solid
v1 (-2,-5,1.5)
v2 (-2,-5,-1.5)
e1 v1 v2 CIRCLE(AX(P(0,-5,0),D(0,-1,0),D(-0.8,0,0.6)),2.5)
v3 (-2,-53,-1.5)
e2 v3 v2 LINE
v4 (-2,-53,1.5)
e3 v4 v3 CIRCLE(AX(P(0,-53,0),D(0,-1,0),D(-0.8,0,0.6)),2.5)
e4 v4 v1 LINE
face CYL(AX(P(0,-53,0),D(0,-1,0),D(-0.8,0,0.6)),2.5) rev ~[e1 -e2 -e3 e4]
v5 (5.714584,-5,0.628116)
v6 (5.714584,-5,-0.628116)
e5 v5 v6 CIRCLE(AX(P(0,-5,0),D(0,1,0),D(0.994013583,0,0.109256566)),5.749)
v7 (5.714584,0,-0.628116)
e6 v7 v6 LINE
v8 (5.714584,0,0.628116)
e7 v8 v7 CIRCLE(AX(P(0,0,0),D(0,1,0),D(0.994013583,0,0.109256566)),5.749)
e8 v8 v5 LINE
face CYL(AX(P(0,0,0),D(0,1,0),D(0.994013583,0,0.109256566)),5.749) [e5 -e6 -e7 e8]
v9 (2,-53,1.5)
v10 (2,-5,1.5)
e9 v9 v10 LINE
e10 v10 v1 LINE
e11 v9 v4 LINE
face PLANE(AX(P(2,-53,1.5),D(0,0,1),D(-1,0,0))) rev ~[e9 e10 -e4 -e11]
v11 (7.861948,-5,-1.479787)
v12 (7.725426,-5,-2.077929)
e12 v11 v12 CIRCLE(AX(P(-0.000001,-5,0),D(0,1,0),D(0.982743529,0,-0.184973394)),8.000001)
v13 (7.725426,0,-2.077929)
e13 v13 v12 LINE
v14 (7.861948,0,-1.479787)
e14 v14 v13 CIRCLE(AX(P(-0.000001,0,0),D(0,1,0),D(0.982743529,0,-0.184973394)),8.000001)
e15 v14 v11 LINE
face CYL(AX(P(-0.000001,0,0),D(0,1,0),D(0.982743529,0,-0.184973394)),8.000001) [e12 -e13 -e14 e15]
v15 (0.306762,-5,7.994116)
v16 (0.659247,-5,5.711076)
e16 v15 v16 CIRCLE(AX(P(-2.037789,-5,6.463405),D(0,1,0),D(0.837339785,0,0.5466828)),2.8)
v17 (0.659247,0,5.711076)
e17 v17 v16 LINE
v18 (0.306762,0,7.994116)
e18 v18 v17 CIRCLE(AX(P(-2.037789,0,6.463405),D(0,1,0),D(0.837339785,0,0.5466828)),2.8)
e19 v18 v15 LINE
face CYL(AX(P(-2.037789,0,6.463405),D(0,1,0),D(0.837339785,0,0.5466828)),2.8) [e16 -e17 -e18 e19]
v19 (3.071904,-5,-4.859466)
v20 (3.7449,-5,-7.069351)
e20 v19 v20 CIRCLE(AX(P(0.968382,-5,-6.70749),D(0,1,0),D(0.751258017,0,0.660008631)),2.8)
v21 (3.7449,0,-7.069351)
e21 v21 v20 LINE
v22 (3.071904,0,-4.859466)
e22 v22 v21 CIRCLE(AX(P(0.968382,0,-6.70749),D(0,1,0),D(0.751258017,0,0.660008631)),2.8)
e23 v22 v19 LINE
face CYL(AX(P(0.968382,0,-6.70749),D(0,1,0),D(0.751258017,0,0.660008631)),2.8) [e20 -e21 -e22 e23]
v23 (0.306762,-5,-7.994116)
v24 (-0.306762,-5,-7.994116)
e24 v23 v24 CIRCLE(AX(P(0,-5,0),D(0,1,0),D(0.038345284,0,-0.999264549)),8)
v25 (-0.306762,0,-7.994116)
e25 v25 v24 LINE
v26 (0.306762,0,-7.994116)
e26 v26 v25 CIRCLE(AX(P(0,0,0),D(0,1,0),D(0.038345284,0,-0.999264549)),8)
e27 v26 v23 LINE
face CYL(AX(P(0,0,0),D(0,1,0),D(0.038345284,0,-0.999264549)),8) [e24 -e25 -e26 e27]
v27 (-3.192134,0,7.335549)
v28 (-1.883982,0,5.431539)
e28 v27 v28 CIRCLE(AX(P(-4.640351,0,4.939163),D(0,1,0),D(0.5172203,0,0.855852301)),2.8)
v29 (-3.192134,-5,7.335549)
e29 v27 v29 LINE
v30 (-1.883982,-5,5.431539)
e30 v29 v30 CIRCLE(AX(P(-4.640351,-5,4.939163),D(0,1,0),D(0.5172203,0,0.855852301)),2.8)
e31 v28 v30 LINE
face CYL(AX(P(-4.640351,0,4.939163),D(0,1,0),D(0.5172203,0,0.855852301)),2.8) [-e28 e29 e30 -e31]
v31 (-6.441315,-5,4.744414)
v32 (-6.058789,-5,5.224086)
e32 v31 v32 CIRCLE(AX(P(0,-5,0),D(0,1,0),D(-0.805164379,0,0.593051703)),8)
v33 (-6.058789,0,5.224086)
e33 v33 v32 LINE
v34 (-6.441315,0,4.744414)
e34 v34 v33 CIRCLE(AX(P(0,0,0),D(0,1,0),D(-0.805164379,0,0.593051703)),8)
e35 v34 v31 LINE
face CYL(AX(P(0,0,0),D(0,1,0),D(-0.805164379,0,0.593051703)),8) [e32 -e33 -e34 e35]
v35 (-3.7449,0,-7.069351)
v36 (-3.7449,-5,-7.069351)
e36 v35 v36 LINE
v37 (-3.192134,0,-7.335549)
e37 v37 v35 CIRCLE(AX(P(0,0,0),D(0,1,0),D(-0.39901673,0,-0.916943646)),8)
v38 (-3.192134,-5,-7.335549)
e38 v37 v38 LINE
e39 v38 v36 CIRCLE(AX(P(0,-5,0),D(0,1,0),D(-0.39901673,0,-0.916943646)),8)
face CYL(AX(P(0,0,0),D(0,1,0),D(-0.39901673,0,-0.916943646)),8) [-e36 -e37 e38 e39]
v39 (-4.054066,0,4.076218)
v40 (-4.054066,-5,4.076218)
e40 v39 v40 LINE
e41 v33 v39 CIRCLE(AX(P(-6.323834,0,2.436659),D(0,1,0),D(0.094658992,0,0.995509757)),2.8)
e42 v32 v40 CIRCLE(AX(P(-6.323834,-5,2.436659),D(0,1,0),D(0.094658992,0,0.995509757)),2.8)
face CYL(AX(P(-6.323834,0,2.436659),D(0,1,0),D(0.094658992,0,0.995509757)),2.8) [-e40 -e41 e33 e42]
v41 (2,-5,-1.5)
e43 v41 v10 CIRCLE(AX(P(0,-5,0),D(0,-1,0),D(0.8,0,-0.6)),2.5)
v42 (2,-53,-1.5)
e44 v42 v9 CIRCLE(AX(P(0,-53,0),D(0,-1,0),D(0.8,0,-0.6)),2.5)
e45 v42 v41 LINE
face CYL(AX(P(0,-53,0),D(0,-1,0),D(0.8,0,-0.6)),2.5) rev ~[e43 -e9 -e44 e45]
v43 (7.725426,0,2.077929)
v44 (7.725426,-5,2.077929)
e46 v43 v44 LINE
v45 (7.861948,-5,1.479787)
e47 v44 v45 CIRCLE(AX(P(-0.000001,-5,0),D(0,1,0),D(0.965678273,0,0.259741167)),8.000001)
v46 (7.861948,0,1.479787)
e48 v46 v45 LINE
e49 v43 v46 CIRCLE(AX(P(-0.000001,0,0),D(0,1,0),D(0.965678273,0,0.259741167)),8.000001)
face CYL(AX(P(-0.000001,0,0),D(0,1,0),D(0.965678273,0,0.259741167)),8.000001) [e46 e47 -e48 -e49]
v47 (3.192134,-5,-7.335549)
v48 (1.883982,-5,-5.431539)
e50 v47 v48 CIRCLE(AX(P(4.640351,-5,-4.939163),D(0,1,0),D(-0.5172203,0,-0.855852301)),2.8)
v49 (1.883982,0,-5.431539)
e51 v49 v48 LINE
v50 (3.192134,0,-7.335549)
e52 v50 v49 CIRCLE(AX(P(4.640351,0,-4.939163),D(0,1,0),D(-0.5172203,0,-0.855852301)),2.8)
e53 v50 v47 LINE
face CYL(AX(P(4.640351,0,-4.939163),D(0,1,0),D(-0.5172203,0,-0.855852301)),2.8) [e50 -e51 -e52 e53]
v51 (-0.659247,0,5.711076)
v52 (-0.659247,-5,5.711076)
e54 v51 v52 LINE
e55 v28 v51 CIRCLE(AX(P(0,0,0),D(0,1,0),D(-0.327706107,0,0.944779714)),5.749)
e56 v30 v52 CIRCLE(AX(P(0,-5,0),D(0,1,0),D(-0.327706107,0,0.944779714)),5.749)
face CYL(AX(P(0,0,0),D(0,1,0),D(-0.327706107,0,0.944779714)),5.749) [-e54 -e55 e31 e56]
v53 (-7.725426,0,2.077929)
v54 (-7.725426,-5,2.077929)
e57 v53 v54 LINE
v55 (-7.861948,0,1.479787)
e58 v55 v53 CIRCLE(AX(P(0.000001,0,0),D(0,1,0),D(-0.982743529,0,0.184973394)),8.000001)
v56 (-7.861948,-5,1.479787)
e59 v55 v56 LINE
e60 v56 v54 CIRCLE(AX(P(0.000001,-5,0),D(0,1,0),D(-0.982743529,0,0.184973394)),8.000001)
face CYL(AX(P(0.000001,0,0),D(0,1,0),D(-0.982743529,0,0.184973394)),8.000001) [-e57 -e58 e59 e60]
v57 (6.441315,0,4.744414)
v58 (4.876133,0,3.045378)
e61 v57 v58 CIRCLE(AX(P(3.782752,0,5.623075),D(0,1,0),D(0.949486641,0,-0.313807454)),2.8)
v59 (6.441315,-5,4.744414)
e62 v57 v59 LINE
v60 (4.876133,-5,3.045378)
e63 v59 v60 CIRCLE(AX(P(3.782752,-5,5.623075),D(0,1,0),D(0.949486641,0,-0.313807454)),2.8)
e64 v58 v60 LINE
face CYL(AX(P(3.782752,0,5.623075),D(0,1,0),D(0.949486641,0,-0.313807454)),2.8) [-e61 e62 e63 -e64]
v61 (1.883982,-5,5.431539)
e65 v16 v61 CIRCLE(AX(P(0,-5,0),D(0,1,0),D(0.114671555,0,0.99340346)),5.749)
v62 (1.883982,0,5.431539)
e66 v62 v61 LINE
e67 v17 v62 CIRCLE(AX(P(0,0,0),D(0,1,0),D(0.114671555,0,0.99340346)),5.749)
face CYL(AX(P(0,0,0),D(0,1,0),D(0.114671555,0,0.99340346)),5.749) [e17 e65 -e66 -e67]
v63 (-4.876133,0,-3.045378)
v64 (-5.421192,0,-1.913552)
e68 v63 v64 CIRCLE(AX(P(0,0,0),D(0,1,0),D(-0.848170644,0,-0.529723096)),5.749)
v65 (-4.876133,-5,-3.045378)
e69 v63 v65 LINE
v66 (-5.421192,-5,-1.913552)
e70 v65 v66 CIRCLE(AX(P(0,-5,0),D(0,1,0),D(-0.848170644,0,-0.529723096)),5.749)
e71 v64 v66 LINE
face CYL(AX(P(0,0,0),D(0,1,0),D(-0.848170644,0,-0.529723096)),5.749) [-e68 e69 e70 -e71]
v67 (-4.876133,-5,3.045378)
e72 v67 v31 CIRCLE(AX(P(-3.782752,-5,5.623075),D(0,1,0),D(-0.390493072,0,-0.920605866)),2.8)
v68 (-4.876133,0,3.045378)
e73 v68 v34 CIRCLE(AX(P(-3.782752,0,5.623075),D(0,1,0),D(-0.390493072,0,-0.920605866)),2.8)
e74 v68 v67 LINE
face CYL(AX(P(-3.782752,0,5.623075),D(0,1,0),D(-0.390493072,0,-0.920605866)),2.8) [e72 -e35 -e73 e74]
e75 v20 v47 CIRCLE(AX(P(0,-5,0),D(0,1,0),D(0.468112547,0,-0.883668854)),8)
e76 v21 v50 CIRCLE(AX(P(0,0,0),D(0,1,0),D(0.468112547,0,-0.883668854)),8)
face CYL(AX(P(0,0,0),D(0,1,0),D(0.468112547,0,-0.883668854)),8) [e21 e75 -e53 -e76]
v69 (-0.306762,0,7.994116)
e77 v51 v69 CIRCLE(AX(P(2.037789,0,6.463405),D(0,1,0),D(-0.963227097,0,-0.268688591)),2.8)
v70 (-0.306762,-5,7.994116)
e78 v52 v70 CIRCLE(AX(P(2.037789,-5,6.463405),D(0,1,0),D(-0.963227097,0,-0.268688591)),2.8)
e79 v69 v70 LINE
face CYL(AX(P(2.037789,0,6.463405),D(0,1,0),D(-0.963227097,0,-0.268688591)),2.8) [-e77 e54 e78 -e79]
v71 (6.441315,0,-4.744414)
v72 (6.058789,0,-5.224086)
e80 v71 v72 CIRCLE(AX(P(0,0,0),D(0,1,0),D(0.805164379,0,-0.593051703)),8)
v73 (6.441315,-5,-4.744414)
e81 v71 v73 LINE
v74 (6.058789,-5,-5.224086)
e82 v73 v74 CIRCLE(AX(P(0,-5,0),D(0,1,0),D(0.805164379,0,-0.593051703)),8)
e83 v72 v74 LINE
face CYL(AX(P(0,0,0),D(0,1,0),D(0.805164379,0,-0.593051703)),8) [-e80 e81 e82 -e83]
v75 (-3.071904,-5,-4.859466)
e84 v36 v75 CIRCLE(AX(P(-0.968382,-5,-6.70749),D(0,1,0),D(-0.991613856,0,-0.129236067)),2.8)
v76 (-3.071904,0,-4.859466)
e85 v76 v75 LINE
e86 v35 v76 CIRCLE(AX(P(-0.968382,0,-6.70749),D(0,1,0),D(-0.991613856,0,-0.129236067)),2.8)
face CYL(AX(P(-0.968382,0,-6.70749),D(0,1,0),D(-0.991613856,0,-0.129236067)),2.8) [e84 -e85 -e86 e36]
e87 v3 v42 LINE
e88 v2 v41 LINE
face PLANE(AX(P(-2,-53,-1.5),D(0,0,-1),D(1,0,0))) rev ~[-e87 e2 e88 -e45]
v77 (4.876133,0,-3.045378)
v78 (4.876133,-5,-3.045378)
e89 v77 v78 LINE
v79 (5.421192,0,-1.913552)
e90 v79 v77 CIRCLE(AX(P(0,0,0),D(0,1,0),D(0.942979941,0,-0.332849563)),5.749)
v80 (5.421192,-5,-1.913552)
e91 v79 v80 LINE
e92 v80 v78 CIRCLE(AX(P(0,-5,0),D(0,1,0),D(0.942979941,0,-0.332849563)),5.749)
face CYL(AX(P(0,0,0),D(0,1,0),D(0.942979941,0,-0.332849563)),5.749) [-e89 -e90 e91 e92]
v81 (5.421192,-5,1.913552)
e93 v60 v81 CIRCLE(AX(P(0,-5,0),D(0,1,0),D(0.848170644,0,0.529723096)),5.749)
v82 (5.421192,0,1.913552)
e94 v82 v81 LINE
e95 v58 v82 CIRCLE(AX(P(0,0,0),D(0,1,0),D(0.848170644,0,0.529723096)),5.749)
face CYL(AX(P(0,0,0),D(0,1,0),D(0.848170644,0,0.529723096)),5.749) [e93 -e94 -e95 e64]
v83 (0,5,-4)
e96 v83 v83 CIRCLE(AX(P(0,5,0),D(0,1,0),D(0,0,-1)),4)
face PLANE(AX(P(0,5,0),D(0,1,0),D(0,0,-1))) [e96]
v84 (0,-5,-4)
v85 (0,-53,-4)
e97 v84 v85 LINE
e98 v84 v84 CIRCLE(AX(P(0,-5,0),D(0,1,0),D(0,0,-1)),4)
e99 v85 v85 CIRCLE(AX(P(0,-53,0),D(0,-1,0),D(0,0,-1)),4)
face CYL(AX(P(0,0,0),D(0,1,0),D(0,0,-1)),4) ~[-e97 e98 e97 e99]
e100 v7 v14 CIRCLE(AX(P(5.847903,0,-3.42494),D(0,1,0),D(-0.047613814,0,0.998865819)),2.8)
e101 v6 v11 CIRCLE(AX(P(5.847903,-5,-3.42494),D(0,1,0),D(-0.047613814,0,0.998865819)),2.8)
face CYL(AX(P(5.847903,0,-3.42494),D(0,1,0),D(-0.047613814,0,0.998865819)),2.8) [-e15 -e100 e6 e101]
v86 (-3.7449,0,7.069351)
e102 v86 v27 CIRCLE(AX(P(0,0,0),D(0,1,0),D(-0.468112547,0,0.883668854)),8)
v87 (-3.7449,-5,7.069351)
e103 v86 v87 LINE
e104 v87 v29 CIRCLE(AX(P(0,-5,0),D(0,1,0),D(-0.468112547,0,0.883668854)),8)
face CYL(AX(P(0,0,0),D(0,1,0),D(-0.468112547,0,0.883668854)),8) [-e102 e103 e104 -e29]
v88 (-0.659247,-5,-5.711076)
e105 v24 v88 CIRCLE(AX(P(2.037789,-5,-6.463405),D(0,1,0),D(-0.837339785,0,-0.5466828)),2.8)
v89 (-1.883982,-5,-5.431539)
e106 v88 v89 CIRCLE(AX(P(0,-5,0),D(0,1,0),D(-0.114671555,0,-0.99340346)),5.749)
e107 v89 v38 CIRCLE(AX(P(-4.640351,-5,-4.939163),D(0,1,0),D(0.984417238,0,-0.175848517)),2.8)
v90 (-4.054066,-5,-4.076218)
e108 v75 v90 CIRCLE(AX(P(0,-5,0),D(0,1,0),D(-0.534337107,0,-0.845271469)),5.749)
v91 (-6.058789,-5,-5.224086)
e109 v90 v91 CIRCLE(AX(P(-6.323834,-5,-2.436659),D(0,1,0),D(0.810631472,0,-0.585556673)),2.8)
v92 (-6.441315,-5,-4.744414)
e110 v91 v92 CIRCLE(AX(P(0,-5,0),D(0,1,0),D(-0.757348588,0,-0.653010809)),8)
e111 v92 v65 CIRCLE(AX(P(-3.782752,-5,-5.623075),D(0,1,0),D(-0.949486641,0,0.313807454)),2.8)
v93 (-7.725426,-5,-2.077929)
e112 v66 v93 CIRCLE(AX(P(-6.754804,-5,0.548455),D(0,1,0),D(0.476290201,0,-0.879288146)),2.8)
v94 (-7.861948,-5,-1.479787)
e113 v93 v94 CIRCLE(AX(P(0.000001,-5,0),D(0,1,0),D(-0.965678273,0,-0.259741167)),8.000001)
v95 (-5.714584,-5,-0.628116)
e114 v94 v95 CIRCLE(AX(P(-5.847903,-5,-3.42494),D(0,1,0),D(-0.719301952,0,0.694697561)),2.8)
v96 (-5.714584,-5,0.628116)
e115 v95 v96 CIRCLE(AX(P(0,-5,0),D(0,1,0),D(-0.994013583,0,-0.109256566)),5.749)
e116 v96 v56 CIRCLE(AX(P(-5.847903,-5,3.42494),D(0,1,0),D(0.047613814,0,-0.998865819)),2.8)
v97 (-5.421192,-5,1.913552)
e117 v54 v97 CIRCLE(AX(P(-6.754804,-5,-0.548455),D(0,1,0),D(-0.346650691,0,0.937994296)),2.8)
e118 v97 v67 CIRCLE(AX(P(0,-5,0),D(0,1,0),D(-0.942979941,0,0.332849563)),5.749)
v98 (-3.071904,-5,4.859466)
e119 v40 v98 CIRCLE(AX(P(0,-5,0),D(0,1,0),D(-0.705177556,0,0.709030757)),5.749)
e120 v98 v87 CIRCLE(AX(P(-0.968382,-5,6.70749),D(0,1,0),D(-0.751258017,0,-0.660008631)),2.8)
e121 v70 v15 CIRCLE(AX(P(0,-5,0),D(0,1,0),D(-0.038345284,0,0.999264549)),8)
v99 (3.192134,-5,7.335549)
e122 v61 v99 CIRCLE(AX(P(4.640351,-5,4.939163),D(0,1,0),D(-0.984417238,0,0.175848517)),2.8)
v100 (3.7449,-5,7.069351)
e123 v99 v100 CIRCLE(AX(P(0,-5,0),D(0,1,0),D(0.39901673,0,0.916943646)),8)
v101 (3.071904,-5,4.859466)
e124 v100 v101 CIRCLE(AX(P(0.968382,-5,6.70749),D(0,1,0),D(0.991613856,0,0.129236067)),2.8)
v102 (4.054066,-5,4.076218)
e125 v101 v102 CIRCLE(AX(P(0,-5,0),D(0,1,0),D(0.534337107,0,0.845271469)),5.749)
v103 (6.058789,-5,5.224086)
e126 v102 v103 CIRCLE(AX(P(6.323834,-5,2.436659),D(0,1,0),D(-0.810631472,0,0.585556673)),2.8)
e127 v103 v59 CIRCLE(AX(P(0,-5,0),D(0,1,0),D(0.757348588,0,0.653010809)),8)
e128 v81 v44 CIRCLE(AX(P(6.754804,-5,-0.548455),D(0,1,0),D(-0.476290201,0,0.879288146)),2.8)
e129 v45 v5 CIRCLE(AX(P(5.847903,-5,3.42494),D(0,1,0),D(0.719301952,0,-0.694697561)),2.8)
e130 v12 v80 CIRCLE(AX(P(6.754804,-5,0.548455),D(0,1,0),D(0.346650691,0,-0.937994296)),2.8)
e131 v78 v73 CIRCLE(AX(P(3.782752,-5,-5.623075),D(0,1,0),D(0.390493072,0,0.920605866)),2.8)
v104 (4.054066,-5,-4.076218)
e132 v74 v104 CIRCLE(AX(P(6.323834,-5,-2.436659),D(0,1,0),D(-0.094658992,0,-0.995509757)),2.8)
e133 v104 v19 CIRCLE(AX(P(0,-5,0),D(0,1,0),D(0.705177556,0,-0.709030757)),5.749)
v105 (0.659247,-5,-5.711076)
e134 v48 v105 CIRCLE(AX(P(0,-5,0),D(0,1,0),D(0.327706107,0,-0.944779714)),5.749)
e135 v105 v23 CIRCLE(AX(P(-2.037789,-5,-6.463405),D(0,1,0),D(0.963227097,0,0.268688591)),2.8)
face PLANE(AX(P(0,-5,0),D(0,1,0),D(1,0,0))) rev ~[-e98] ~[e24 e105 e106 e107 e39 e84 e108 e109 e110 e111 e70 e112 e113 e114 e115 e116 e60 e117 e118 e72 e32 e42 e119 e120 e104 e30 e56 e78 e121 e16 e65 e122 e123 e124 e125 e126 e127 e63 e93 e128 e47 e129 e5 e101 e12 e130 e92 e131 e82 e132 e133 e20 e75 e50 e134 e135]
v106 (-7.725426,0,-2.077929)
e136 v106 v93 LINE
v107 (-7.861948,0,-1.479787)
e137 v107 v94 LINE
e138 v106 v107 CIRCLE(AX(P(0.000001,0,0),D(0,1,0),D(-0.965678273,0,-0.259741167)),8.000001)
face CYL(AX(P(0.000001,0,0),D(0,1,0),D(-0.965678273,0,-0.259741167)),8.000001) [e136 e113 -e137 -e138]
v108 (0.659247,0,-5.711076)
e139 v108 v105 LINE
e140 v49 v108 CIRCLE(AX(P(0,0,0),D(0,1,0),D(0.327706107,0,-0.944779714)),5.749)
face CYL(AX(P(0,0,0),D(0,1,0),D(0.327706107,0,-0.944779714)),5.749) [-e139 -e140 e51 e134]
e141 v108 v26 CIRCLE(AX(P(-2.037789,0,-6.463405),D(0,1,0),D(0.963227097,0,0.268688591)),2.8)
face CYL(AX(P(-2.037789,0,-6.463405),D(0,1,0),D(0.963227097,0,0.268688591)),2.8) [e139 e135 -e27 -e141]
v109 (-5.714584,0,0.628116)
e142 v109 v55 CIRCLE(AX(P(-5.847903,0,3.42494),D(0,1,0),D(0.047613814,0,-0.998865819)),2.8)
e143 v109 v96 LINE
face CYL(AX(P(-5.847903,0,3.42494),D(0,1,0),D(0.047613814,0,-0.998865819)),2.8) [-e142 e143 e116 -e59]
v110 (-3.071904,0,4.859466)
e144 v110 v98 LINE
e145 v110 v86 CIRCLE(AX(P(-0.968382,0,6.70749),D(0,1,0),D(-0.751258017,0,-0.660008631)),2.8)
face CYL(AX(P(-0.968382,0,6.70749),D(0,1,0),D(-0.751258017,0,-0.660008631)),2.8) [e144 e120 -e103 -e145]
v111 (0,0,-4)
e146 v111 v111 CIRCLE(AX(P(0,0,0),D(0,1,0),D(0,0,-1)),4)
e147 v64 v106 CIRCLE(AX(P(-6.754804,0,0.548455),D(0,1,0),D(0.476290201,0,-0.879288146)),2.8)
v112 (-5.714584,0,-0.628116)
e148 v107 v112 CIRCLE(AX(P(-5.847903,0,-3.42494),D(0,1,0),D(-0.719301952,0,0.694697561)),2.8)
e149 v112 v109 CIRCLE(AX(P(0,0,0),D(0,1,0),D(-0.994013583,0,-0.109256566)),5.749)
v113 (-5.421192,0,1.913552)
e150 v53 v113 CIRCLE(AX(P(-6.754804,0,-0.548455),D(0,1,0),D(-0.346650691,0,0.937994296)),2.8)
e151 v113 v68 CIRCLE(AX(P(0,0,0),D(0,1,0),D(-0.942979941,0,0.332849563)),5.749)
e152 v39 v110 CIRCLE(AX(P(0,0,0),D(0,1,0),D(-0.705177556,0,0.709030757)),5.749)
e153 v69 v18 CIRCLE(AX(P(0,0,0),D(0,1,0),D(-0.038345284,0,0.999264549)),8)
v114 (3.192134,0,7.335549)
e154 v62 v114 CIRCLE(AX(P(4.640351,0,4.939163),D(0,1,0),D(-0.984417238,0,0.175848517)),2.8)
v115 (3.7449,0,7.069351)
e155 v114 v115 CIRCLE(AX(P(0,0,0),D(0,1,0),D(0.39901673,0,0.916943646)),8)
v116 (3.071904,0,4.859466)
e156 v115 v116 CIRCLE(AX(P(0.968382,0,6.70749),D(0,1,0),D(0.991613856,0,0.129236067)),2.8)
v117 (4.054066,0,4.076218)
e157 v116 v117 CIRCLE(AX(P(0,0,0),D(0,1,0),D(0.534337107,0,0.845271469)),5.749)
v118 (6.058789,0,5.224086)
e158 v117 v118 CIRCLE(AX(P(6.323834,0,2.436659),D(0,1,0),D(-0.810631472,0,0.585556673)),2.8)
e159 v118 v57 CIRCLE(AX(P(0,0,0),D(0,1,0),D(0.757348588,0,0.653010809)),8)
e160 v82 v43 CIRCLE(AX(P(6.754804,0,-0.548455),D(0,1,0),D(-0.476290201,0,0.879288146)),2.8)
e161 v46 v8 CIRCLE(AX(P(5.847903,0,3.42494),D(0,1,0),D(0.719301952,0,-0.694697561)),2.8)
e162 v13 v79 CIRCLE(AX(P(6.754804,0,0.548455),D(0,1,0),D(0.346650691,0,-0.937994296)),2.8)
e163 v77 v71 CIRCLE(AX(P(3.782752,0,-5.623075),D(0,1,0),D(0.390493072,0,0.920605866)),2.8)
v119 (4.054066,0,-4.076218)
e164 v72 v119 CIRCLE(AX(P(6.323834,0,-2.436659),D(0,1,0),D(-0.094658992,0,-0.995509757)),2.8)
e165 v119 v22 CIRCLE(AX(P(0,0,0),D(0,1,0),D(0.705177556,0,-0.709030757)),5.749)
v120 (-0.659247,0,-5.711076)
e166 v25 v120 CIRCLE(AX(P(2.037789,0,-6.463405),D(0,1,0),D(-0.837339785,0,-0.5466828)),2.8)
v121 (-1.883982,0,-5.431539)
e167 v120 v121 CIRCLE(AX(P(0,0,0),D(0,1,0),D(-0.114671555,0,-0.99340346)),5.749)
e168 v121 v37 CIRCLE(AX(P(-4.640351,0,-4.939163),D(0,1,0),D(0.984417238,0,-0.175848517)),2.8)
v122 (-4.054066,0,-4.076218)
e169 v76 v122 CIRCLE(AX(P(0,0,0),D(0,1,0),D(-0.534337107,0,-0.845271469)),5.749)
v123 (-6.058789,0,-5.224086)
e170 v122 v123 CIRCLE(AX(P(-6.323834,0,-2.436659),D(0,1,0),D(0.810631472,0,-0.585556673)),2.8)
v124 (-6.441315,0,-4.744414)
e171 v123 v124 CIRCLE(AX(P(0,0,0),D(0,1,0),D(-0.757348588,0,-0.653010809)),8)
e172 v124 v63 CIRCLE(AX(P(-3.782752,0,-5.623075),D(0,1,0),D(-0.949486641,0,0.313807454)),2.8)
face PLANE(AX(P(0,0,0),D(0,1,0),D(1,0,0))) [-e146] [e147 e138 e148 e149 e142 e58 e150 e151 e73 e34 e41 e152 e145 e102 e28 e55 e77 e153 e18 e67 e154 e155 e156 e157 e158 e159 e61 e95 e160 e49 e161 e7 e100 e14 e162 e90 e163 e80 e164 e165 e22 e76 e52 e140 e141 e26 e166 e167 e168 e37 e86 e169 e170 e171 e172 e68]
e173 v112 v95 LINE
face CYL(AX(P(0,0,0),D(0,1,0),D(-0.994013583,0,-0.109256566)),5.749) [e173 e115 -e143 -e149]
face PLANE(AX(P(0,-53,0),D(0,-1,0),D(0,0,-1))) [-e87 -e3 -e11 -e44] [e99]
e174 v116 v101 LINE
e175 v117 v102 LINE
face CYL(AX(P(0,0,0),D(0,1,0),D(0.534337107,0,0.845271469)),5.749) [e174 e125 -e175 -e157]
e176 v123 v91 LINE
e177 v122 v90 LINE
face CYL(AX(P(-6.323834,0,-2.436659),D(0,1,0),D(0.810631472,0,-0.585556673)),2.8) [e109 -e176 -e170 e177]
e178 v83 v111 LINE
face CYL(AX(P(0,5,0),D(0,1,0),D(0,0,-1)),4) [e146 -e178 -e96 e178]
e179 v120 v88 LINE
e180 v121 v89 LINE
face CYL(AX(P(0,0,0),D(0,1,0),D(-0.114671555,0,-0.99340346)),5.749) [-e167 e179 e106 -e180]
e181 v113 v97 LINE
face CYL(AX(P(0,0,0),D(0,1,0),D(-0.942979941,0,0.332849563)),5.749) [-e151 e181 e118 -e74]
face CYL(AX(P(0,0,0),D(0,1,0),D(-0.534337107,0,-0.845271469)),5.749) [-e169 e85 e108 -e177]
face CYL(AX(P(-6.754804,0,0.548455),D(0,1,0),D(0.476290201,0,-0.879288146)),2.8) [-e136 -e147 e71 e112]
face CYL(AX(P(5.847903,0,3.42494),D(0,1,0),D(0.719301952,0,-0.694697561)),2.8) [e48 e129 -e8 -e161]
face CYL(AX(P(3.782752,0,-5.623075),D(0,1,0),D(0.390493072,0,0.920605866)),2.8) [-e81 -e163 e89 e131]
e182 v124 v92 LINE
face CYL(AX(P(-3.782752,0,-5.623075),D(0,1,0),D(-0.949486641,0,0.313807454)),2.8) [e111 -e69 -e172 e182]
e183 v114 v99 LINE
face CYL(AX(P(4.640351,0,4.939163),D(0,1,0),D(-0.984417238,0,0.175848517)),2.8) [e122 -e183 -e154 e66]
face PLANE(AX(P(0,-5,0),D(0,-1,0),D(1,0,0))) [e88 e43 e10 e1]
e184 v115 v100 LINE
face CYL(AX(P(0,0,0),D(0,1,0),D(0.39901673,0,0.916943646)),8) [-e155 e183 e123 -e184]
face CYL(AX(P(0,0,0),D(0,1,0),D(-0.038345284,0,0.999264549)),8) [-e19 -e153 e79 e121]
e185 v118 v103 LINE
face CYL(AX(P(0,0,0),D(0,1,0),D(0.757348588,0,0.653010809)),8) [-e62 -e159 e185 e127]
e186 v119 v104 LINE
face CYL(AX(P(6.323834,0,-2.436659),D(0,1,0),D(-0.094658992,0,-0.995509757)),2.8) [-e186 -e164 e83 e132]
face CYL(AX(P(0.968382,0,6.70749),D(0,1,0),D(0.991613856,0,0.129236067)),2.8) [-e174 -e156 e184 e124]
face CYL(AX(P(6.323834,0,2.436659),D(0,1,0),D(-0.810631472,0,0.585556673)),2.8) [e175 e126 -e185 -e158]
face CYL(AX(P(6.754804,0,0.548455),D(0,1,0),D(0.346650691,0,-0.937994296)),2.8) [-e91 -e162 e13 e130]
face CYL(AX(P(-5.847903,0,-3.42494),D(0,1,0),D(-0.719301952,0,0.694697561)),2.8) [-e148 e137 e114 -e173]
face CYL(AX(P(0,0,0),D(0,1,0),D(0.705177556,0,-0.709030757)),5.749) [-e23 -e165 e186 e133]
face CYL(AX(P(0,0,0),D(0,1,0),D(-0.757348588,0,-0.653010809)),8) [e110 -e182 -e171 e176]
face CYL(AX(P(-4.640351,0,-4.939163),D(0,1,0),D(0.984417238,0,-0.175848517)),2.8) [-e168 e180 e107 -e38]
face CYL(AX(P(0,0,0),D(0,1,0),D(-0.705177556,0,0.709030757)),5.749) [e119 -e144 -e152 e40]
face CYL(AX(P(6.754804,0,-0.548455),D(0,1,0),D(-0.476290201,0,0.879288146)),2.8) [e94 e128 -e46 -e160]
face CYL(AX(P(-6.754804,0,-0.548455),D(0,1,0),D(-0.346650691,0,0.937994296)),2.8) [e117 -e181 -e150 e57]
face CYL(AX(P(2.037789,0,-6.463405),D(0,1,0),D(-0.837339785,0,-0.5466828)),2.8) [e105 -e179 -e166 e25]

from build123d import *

# Parameters (mm, degrees)
SKETCH1_R                = 0.4
BOSS_EXTRUDE1_DEPTH      = 5
BOSS_EXTRUDE2_DEPTH      = 48
BOSS_EXTRUDE2_DEPTH_BACK = 5
SKETCH2_R                = 4
BOSS_EXTRUDE3_START      = 5
SKETCH3_R                = 4
BOSS_EXTRUDE3_DEPTH      = 5
CUT_EXTRUDE1_DEPTH       = 48


with BuildPart() as part:
    # Sketch1 → Boss-Extrude1 (new body)
    with BuildSketch(Plane(origin=(0, 0, 0), x_dir=(1, 0, 0), z_dir=(0, 1, 0))):
        with BuildLine():
            ThreePointArc((3.744900382, -7.069350828), (3.64692573, -5.891768521), (3.071904032, -4.859465672))
            ThreePointArc((3.071904032, -4.859465672), (3.584442871, -4.494749193), (4.054065768, -4.076217824))
            ThreePointArc((4.054065768, -4.076217824), (4.932532263, -4.866531521), (6.058788713, -5.224086459))
            ThreePointArc((6.058788713, -5.224086459), (6.25465186, -4.987918415), (6.441315028, -4.744413632))
            ThreePointArc((6.441315028, -4.744413632), (5.842109102, -3.725958242), (4.876133034, -3.045378078))
            ThreePointArc((4.876133034, -3.045378078), (5.179670022, -2.494397616), (5.421191676, -1.913552144))
            ThreePointArc((5.421191676, -1.913552144), (6.555566902, -2.244447854), (7.725426174, -2.077929362))
            ThreePointArc((7.725426174, -2.077929362), (7.799423297, -1.780167472), (7.861948235, -1.47978713))
            ThreePointArc((7.861948235, -1.47978713), (6.880191117, -0.822176238), (5.714584087, -0.628116006))
            ThreePointArc((5.714584087, -0.628116006), (5.749, 0), (5.714584087, 0.628116006))
            ThreePointArc((5.714584087, 0.628116006), (6.880191117, 0.822176238), (7.861948235, 1.47978713))
            ThreePointArc((7.861948235, 1.47978713), (7.799423297, 1.780167472), (7.725426174, 2.077929362))
            ThreePointArc((7.725426174, 2.077929362), (6.555566902, 2.244447854), (5.421191676, 1.913552144))
            ThreePointArc((5.421191676, 1.913552144), (5.179670022, 2.494397616), (4.876133034, 3.045378078))
            ThreePointArc((4.876133034, 3.045378078), (5.842109102, 3.725958242), (6.441315028, 4.744413632))
            ThreePointArc((6.441315028, 4.744413632), (6.25465186, 4.987918415), (6.058788713, 5.224086459))
            ThreePointArc((6.058788713, 5.224086459), (4.932532263, 4.866531521), (4.054065768, 4.076217824))
            ThreePointArc((4.054065768, 4.076217824), (3.584442871, 4.494749193), (3.071904032, 4.859465672))
            ThreePointArc((3.071904032, 4.859465672), (3.64692573, 5.891768521), (3.744900382, 7.069350828))
            ThreePointArc((3.744900382, 7.069350828), (3.471069913, 7.207750943), (3.192133841, 7.335549164))
            ThreePointArc((3.192133841, 7.335549164), (2.332549116, 6.524738937), (1.883982415, 5.431538572))
            ThreePointArc((1.883982415, 5.431538572), (1.279272849, 5.604860567), (0.659246762, 5.711076493))
            ThreePointArc((0.659246762, 5.711076493), (0.72942399, 6.890641786), (0.306762287, 7.994116393))
            ThreePointArc((0.306762287, 7.994116393), (0, 8), (-0.306762287, 7.994116393))
            ThreePointArc((-0.306762287, 7.994116393), (-0.72942399, 6.890641786), (-0.659246762, 5.711076493))
            ThreePointArc((-0.659246762, 5.711076493), (-1.279272849, 5.604860567), (-1.883982415, 5.431538572))
            ThreePointArc((-1.883982415, 5.431538572), (-2.332549116, 6.524738937), (-3.192133841, 7.335549164))
            ThreePointArc((-3.192133841, 7.335549164), (-3.471069913, 7.207750943), (-3.744900382, 7.069350828))
            ThreePointArc((-3.744900382, 7.069350828), (-3.64692573, 5.891768521), (-3.071904032, 4.859465672))
            ThreePointArc((-3.071904032, 4.859465672), (-3.584442871, 4.494749193), (-4.054065768, 4.076217824))
            ThreePointArc((-4.054065768, 4.076217824), (-4.932532263, 4.866531521), (-6.058788713, 5.224086459))
            ThreePointArc((-6.058788713, 5.224086459), (-6.25465186, 4.987918415), (-6.441315028, 4.744413632))
            ThreePointArc((-6.441315028, 4.744413632), (-5.842109102, 3.725958242), (-4.876133034, 3.045378078))
            ThreePointArc((-4.876133034, 3.045378078), (-5.179670022, 2.494397616), (-5.421191676, 1.913552144))
            ThreePointArc((-5.421191676, 1.913552144), (-6.555566902, 2.244447854), (-7.725426174, 2.077929362))
            ThreePointArc((-7.725426174, 2.077929362), (-7.799423297, 1.780167472), (-7.861948235, 1.47978713))
            ThreePointArc((-7.861948235, 1.47978713), (-6.880191117, 0.822176238), (-5.714584087, 0.628116006))
            ThreePointArc((-5.714584087, 0.628116006), (-5.749, 0), (-5.714584087, -0.628116006))
            ThreePointArc((-5.714584087, -0.628116006), (-6.880191117, -0.822176238), (-7.861948235, -1.47978713))
            ThreePointArc((-7.861948235, -1.47978713), (-7.799423297, -1.780167472), (-7.725426174, -2.077929362))
            ThreePointArc((-7.725426174, -2.077929362), (-6.555566902, -2.244447854), (-5.421191676, -1.913552144))
            ThreePointArc((-5.421191676, -1.913552144), (-5.179670022, -2.494397616), (-4.876133034, -3.045378078))
            ThreePointArc((-4.876133034, -3.045378078), (-5.842109102, -3.725958242), (-6.441315028, -4.744413632))
            ThreePointArc((-6.441315028, -4.744413632), (-6.25465186, -4.987918415), (-6.058788713, -5.224086459))
            ThreePointArc((-6.058788713, -5.224086459), (-4.932532263, -4.866531521), (-4.054065768, -4.076217824))
            ThreePointArc((-4.054065768, -4.076217824), (-3.584442871, -4.494749193), (-3.071904032, -4.859465672))
            ThreePointArc((-3.071904032, -4.859465672), (-3.64692573, -5.891768521), (-3.744900382, -7.069350828))
            ThreePointArc((-3.744900382, -7.069350828), (-3.471069913, -7.207750943), (-3.192133841, -7.335549164))
            ThreePointArc((-3.192133841, -7.335549164), (-2.332549116, -6.524738937), (-1.883982415, -5.431538572))
            ThreePointArc((-1.883982415, -5.431538572), (-1.279272849, -5.604860567), (-0.659246762, -5.711076493))
            ThreePointArc((-0.659246762, -5.711076493), (-0.72942399, -6.890641786), (-0.306762287, -7.994116393))
            ThreePointArc((-0.306762287, -7.994116393), (0, -8), (0.306762287, -7.994116393))
            ThreePointArc((0.306762287, -7.994116393), (0.72942399, -6.890641786), (0.659246762, -5.711076493))
            ThreePointArc((0.659246762, -5.711076493), (1.279272849, -5.604860567), (1.883982415, -5.431538572))
            ThreePointArc((1.883982415, -5.431538572), (2.332549116, -6.524738937), (3.192133841, -7.335549164))
            ThreePointArc((3.192133841, -7.335549164), (3.471069913, -7.207750943), (3.744900382, -7.069350828))
        make_face()
        with Locations(Location((0, 0, 0), (0, 0, 90))):
            Circle(SKETCH1_R, mode=Mode.SUBTRACT)
    extrude(amount=-BOSS_EXTRUDE1_DEPTH)

    # Sketch2 → Boss-Extrude2 (add, two sides: drawn at the far end of the back side and taken through both)
    with BuildSketch(Plane.XZ.offset(5).offset(-BOSS_EXTRUDE2_DEPTH_BACK)):
        with Locations(Location((0, 0, 0), (0, 0, 270))):
            Circle(SKETCH2_R)
    extrude(amount=BOSS_EXTRUDE2_DEPTH + BOSS_EXTRUDE2_DEPTH_BACK)

    # Sketch3 → Boss-Extrude3 (add)
    with BuildSketch(Plane(origin=(0, 0, 0), x_dir=(1, 0, 0), z_dir=(0, 1, 0)).offset(BOSS_EXTRUDE3_START)):
        with Locations(Location((0, 0, 0), (0, 0, 90))):
            Circle(SKETCH3_R)
    extrude(amount=-BOSS_EXTRUDE3_DEPTH)

    # Sketch4 → Cut-Extrude1 (cut)
    with BuildSketch(Plane.XZ.offset(53)):
        with BuildLine():
            Line((-2, -1.5), (2, -1.5))
            ThreePointArc((2, -1.5), (2.5, 0), (2, 1.5))
            Line((2, 1.5), (-2, 1.5))
            ThreePointArc((-2, 1.5), (-2.5, 0), (-2, -1.5))
        make_face()
    extrude(amount=-CUT_EXTRUDE1_DEPTH, mode=Mode.SUBTRACT)


solid = part.part
